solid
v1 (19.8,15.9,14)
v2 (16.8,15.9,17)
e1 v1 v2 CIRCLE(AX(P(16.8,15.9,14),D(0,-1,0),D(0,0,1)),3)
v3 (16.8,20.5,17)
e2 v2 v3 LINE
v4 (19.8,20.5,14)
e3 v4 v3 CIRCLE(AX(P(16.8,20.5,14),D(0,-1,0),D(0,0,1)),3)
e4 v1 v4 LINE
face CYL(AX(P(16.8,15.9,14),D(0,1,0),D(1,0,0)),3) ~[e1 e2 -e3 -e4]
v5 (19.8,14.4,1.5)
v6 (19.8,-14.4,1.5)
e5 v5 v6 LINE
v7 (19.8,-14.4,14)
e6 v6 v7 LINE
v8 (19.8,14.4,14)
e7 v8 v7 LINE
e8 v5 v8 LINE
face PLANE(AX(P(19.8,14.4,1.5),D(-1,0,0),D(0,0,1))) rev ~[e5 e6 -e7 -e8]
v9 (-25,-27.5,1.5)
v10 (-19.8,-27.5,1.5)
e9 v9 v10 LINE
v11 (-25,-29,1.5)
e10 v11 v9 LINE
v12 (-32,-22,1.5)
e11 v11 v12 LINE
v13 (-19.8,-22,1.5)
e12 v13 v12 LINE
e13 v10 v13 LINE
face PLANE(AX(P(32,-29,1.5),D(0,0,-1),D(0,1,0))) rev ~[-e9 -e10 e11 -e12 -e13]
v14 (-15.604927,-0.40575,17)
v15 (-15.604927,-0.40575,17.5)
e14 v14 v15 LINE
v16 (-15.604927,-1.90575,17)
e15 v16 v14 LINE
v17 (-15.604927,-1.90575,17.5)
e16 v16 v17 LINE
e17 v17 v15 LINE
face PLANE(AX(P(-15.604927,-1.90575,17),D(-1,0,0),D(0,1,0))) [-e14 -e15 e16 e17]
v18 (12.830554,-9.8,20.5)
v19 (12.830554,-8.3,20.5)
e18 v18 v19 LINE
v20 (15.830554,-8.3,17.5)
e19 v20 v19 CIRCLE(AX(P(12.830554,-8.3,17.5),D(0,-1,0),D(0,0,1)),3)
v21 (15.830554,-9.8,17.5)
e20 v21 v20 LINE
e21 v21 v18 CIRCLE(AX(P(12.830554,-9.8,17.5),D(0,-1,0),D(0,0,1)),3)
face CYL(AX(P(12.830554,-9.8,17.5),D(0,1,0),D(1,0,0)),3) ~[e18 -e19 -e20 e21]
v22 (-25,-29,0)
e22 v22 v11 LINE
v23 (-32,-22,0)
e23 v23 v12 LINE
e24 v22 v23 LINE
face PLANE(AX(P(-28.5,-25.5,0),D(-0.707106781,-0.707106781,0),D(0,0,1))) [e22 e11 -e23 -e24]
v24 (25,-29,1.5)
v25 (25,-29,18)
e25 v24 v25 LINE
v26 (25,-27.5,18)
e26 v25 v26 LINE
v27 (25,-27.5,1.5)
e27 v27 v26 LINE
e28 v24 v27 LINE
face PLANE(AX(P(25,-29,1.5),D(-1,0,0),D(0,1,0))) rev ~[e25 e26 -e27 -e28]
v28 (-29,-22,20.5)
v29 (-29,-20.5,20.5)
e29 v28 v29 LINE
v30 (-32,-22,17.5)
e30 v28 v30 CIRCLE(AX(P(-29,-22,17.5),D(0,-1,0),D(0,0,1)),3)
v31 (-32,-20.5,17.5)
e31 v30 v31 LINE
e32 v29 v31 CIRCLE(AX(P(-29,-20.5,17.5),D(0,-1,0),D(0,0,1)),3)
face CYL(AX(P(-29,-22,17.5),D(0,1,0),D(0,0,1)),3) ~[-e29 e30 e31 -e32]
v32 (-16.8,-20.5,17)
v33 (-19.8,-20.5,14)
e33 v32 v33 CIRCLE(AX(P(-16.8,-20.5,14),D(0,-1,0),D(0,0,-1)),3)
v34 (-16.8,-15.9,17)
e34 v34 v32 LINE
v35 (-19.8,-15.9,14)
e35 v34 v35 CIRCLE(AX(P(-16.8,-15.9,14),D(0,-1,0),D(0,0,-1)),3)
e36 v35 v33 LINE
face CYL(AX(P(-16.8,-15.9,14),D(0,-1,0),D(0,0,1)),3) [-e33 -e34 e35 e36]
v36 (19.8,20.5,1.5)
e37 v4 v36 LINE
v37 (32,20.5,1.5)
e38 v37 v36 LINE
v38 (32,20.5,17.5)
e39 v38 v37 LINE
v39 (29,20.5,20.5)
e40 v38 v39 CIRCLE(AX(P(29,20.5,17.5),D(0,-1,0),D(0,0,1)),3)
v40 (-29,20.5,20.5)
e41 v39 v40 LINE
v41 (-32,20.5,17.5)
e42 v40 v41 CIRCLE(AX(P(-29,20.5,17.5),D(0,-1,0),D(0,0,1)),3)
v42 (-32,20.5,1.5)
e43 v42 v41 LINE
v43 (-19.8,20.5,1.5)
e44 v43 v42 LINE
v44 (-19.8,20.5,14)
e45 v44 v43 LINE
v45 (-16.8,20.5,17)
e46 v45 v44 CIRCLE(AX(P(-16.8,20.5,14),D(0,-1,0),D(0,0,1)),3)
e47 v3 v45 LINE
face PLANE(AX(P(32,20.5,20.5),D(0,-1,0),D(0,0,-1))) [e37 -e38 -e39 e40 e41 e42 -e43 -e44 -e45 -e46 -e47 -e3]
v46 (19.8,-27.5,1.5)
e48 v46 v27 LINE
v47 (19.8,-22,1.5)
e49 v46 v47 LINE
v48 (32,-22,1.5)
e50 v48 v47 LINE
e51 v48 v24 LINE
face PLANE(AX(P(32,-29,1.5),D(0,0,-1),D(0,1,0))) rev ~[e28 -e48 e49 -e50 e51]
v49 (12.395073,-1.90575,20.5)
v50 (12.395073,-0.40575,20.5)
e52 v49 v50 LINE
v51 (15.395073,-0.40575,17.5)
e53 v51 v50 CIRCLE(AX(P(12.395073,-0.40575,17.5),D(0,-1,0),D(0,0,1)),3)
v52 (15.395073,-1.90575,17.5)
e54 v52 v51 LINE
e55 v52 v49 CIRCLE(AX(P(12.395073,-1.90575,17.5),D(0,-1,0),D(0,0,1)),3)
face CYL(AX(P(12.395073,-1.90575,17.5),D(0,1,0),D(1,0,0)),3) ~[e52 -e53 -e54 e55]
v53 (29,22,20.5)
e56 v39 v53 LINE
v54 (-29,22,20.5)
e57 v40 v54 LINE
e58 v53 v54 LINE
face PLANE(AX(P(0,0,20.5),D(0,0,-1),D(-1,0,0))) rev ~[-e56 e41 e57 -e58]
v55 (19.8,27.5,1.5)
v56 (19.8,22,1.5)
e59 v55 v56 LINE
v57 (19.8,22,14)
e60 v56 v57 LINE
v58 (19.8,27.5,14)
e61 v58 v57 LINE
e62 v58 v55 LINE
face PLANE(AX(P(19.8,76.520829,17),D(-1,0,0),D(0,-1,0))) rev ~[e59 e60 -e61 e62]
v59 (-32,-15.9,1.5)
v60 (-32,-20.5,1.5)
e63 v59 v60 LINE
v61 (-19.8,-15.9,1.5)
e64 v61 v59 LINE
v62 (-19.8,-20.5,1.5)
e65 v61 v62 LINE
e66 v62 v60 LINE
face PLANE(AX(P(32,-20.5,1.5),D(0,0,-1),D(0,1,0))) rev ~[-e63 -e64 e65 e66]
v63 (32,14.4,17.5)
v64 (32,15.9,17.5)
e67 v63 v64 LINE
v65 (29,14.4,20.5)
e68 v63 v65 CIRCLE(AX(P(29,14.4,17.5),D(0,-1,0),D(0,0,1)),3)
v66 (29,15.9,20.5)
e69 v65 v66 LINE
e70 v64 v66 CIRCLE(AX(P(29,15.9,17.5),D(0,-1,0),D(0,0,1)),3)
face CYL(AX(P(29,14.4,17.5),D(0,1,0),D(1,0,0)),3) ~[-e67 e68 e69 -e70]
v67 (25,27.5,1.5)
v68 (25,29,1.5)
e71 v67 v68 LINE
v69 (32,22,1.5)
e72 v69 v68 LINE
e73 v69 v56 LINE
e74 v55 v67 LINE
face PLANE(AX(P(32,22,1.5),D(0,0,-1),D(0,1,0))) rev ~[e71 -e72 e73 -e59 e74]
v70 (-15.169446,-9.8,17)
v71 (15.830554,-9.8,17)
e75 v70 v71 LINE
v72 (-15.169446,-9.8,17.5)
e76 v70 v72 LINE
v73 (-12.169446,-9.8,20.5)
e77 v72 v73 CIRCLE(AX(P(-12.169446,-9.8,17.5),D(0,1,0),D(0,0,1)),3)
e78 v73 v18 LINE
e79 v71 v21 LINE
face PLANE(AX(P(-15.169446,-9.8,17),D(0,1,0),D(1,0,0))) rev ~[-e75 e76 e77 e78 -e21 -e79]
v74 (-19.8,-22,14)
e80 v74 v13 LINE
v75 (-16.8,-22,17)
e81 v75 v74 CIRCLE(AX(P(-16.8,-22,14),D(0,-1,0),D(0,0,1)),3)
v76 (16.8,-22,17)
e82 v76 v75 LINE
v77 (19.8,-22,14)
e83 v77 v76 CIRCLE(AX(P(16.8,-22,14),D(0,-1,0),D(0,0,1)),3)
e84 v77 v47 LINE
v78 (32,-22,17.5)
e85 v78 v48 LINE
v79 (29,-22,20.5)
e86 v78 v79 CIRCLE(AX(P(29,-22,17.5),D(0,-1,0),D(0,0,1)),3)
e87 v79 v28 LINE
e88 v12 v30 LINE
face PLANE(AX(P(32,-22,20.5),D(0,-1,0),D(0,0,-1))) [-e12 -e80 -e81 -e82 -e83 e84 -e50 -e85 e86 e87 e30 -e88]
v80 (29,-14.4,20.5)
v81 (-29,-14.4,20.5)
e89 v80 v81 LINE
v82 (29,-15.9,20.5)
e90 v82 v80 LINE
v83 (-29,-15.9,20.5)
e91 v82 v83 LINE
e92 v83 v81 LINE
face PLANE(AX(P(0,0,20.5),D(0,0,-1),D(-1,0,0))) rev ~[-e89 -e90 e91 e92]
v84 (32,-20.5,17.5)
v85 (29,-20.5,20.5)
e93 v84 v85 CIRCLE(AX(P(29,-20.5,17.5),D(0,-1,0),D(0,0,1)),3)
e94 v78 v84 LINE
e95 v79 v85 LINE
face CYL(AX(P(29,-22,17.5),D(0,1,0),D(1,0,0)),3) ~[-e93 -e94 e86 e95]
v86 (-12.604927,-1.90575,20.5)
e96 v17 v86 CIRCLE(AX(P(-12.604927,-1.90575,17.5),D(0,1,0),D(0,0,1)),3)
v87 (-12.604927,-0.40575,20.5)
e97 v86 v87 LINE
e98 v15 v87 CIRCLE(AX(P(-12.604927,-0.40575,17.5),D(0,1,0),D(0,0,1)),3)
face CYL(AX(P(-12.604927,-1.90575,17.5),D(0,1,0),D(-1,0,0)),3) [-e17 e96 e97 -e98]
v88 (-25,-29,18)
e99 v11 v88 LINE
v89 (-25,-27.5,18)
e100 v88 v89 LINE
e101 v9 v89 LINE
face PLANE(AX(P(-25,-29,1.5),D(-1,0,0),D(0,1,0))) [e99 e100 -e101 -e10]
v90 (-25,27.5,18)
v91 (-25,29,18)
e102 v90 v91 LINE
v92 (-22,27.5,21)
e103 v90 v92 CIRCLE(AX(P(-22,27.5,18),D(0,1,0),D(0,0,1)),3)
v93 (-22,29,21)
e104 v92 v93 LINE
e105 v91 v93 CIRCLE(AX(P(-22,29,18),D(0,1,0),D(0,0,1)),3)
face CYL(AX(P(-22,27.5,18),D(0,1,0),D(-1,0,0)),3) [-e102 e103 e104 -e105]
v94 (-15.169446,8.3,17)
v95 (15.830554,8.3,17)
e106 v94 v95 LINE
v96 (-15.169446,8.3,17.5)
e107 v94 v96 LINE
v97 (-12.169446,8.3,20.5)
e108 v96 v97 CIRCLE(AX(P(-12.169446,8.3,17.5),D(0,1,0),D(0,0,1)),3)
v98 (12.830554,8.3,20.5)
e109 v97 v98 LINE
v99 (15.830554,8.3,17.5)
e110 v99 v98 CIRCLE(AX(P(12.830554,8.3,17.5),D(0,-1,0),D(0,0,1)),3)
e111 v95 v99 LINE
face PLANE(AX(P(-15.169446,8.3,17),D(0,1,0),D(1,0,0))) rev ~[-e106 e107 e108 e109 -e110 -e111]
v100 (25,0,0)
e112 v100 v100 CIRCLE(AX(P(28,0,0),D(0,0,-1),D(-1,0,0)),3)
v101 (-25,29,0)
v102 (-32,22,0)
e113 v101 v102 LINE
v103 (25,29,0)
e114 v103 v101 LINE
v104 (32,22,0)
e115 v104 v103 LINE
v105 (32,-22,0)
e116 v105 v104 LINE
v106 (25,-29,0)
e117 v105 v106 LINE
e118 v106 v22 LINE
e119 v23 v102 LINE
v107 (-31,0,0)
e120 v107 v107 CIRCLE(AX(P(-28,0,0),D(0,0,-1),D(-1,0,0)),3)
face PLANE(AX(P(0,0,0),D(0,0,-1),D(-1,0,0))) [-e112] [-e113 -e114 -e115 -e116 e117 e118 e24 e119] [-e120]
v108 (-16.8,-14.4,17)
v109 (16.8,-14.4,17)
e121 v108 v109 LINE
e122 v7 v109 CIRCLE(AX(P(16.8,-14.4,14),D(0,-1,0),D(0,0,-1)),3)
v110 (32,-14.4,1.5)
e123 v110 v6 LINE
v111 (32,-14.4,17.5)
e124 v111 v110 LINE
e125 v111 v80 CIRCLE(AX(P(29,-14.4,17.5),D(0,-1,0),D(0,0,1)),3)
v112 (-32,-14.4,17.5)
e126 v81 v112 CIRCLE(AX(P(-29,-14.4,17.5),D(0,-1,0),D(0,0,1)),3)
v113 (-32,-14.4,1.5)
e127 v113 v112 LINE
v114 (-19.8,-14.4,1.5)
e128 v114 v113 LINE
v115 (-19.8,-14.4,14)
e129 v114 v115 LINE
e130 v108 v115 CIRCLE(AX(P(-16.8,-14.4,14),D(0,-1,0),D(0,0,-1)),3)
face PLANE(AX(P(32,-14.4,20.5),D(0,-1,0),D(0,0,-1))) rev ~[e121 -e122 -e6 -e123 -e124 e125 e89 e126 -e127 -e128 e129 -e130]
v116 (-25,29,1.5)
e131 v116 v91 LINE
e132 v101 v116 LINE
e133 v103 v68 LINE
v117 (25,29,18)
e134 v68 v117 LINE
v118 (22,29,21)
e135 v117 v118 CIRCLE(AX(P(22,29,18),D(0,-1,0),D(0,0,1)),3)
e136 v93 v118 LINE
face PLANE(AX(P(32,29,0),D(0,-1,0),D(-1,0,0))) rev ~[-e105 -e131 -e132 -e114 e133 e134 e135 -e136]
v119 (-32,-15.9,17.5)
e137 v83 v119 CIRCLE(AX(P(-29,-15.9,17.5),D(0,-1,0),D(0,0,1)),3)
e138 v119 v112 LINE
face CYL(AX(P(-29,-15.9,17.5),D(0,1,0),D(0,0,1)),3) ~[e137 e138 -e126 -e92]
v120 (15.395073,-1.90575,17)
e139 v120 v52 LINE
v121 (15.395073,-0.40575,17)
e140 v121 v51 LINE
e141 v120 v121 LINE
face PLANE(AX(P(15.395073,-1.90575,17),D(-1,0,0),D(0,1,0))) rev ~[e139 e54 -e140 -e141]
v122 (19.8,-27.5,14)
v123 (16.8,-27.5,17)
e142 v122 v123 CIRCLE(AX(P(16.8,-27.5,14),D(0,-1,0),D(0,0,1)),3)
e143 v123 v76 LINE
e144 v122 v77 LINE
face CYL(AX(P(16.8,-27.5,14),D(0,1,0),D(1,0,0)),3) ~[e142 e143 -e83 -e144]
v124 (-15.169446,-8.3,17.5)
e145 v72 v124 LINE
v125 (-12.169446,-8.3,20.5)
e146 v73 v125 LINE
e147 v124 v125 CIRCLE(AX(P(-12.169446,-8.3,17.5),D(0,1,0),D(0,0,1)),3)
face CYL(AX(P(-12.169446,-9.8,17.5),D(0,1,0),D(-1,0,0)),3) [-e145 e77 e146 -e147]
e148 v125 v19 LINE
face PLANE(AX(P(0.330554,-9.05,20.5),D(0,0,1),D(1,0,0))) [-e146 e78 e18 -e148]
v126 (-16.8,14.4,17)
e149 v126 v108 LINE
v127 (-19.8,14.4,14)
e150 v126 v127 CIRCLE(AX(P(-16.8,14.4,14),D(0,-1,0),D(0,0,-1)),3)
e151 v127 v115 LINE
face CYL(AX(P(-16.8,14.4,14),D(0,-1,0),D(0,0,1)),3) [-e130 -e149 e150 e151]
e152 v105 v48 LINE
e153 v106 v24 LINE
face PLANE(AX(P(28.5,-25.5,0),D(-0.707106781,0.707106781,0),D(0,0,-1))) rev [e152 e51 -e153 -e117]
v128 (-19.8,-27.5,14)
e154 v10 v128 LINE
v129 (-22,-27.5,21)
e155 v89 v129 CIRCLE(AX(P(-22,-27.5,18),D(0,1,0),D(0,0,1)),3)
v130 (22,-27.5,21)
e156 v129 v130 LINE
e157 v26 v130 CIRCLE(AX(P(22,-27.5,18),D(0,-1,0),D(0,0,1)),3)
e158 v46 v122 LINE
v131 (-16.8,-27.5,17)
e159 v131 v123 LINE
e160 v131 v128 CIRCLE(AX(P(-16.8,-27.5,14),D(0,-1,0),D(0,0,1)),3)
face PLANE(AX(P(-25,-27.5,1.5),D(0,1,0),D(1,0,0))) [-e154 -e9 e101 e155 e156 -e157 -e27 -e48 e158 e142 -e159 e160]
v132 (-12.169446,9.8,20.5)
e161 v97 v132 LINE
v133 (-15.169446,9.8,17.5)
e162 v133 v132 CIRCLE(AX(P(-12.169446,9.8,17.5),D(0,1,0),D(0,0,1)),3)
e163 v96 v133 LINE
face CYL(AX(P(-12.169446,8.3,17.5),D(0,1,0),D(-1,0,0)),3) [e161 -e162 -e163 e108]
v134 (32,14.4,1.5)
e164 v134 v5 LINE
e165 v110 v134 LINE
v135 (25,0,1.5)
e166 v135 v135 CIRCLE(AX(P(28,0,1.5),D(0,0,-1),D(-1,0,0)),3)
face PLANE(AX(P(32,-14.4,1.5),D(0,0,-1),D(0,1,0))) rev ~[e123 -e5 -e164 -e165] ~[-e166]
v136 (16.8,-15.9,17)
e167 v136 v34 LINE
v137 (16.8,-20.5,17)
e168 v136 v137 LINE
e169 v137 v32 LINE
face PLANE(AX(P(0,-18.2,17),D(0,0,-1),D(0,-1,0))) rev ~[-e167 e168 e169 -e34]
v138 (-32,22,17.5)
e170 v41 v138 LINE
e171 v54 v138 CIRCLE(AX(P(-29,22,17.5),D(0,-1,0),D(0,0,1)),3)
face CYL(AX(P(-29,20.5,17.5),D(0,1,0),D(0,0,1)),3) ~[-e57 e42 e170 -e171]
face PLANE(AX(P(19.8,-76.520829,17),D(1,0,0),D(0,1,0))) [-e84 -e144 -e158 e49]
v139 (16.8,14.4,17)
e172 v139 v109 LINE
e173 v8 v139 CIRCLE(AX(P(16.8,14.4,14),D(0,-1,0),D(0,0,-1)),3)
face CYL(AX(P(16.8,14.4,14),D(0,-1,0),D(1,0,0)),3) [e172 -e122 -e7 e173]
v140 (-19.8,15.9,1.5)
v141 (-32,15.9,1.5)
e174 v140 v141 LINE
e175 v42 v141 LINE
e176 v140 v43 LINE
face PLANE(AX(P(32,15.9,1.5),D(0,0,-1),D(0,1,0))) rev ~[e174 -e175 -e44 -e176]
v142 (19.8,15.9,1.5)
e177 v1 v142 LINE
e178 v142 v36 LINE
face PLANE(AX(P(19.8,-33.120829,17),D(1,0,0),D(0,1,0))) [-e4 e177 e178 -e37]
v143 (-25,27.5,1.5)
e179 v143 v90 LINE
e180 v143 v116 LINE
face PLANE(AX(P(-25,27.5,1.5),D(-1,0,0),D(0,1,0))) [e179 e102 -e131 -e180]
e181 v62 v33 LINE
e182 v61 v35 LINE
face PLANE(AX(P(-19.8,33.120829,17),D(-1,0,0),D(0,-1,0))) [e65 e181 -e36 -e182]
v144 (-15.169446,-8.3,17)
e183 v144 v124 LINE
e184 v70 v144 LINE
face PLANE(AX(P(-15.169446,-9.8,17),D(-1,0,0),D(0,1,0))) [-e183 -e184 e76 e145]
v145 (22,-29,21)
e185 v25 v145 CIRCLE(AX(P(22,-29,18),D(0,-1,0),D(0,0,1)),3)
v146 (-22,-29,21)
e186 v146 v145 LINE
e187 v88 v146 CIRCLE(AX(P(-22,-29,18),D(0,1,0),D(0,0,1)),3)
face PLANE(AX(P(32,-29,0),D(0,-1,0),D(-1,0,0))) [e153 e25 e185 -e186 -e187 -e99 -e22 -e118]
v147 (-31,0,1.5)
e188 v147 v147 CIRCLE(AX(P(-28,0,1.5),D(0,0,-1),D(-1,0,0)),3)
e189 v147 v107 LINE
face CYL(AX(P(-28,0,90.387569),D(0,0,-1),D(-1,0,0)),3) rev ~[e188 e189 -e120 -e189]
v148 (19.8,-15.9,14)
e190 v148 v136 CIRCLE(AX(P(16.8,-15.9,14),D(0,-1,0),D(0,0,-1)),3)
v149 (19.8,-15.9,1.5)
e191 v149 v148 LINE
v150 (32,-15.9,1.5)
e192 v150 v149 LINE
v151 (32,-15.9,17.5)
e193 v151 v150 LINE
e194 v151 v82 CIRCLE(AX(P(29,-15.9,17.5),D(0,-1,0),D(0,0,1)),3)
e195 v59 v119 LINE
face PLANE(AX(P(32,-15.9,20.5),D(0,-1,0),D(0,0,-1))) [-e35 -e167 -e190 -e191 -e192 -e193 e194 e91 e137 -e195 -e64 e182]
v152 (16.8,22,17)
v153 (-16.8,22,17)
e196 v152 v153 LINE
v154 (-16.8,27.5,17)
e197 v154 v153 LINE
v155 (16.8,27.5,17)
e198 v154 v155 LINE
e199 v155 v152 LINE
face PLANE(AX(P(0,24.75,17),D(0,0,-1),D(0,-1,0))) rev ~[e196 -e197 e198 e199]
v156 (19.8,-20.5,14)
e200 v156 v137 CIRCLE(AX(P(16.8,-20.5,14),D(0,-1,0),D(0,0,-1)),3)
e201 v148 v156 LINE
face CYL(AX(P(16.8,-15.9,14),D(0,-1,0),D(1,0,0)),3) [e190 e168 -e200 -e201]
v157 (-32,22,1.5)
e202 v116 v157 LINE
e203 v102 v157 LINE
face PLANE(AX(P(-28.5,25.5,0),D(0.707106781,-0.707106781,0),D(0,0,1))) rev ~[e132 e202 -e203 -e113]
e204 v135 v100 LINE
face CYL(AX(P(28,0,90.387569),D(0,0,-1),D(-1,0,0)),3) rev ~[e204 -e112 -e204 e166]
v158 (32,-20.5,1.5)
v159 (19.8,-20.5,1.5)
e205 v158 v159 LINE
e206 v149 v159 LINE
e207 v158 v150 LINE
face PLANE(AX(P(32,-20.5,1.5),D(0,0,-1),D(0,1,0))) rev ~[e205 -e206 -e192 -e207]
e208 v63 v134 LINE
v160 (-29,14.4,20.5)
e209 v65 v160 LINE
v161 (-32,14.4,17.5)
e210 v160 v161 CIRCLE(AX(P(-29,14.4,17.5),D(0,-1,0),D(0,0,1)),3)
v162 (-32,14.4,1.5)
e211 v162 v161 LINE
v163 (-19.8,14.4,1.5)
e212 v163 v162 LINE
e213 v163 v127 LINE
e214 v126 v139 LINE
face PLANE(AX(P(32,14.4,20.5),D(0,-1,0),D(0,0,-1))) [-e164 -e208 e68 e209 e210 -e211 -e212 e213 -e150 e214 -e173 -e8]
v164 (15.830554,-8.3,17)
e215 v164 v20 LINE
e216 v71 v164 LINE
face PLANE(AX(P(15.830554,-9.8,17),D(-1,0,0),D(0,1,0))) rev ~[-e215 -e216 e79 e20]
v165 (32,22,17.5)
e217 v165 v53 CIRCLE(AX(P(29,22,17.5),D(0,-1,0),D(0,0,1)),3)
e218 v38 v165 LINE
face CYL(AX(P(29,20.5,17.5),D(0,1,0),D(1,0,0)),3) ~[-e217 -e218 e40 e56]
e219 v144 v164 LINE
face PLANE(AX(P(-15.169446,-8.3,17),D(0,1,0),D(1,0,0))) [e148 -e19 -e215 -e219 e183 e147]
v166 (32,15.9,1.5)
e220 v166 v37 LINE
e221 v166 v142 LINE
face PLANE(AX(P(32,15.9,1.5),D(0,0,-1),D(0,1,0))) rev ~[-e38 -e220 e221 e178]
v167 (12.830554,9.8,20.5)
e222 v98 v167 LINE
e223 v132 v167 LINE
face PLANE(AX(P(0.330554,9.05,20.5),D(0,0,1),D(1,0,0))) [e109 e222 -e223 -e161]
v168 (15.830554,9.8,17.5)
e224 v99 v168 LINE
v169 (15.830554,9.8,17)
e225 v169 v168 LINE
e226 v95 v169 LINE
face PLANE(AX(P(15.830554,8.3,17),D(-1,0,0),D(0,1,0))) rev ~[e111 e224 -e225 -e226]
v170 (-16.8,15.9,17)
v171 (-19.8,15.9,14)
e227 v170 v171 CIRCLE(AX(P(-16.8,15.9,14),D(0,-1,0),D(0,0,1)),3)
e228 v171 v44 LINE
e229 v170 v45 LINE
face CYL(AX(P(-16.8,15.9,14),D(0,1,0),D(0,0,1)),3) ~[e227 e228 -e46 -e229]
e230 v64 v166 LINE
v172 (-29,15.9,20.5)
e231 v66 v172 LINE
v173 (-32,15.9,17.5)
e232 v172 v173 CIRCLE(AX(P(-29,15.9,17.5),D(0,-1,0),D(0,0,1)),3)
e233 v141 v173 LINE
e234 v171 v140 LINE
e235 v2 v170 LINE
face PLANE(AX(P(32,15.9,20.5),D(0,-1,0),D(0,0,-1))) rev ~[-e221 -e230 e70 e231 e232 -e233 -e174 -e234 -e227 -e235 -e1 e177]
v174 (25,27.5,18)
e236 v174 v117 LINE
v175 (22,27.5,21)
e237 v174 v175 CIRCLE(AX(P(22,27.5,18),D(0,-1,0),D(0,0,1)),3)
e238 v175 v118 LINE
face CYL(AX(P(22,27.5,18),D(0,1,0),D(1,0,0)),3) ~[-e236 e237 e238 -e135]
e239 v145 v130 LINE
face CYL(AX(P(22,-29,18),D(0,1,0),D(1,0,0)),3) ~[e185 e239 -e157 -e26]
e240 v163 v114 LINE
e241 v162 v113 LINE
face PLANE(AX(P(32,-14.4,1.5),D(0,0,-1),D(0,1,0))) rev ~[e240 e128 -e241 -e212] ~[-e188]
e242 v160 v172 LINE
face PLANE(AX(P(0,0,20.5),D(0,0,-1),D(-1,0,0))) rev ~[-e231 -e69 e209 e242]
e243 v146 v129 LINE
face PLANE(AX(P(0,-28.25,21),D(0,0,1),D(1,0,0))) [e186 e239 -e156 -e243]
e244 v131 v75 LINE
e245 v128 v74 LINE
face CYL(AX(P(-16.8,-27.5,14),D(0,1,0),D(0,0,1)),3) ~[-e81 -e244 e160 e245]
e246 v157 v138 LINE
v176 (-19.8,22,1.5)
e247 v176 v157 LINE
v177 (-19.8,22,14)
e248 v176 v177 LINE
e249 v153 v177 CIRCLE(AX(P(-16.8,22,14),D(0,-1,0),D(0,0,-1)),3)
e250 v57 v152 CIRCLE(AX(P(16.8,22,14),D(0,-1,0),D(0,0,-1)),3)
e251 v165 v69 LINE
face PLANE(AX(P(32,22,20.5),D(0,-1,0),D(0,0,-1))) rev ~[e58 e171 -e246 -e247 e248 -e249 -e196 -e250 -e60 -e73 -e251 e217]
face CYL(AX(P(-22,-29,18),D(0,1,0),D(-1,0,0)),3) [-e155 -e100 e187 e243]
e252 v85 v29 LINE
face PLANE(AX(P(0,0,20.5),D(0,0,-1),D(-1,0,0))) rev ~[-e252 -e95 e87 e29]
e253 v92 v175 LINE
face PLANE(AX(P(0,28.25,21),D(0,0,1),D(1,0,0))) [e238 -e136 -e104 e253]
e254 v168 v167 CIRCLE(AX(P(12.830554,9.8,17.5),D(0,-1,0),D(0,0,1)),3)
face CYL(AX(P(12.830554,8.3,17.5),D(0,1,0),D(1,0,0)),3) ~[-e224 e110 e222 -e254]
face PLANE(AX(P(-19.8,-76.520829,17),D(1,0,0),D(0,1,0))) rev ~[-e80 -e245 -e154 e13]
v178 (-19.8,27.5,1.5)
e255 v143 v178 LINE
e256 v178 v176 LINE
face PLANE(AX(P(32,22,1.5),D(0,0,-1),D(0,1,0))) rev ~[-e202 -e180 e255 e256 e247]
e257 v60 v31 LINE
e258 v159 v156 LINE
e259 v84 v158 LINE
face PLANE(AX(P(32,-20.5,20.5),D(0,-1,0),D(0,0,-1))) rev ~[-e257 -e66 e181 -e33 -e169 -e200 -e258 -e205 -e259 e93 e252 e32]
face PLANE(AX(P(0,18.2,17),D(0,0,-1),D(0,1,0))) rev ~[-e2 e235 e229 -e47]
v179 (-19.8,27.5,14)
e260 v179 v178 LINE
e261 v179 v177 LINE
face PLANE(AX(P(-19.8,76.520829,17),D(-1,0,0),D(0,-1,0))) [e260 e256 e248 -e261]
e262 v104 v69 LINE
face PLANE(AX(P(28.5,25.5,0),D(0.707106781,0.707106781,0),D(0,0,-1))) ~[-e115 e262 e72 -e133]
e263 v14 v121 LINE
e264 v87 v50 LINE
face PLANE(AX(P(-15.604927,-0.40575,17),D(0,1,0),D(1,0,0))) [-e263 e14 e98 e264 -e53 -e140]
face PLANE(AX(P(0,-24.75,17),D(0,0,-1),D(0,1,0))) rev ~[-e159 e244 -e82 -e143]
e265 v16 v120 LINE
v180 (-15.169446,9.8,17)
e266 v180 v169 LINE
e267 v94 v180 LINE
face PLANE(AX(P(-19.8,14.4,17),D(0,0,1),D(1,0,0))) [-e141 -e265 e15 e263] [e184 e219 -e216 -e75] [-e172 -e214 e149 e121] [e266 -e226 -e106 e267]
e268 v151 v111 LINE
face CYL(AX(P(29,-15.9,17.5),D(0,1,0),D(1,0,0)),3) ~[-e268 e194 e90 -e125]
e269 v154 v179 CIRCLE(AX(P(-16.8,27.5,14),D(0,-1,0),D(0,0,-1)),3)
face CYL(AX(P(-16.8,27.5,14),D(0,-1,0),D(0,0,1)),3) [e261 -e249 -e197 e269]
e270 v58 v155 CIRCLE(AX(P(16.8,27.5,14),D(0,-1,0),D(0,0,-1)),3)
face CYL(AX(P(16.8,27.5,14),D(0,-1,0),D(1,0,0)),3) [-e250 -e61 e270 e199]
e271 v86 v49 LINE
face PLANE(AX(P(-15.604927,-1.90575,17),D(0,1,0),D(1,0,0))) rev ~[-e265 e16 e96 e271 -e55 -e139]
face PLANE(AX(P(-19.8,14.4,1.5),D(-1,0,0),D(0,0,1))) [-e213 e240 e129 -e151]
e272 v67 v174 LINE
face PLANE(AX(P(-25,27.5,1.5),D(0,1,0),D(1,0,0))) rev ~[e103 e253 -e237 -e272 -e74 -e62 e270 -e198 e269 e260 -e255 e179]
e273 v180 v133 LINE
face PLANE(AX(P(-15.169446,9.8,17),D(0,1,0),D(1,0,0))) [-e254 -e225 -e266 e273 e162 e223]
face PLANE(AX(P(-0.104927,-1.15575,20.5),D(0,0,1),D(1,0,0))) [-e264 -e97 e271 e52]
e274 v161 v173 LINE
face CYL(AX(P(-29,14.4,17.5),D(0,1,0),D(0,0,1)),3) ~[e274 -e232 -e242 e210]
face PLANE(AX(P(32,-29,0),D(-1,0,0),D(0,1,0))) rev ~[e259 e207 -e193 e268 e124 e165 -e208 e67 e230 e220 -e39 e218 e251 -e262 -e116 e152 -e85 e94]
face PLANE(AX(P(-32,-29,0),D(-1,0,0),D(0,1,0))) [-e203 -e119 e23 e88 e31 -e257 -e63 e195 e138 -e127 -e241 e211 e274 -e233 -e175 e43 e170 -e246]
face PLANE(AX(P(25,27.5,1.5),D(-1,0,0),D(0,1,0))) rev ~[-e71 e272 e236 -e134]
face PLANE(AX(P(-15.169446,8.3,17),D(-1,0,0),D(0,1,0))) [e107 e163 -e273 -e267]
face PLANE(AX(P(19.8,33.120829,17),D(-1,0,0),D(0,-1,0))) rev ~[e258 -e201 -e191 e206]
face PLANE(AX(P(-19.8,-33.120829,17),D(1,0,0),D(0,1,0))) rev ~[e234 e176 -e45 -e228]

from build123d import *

# Parameters (mm, degrees)
SKETCH_1_W            = 64
SKETCH_1_H            = 58
EXTRUDE_1_DEPTH       = 20.5
SKETCH_2_W            = 19
SKETCH_2_H            = 4.6
CUT_EXTRUDE_1_DEPTH   = 74.193237393
SKETCH_3_W            = 19
SKETCH_3_H            = 28.8
CUT_EXTRUDE_2_DEPTH   = 74.193237393
SKETCH_4_W            = 19
SKETCH_4_H            = 4.6
CUT_EXTRUDE_3_DEPTH   = 74.193237393
SKETCH_5_W            = 19
SKETCH_5_H            = 7
CUT_EXTRUDE_4_DEPTH   = 74.193237393
SKETCH_6_W            = 19
SKETCH_6_H            = 7
CUT_EXTRUDE_5_DEPTH   = 74.193237393
SKETCH_7_W            = 39.6
SKETCH_7_H            = 15.5
EXTRUDE_2_DEPTH       = 28.8
SKETCH_8_W            = 50
SKETCH_8_H            = 1.5
EXTRUDE_3_DEPTH       = 19.5
SKETCH_9_W            = 50
SKETCH_9_H            = 1.5
EXTRUDE_4_DEPTH       = 19.5
SKETCH_10_W           = 31
SKETCH_10_H           = 1.5
EXTRUDE_5_DEPTH       = 3.5
SKETCH_11_W           = 31
SKETCH_11_H           = 1.5
EXTRUDE_6_DEPTH       = 3.5
SKETCH_12_W           = 31
SKETCH_12_H           = 1.5
EXTRUDE_7_DEPTH       = 3.5
HOLE_WIZARD_6_0_6_1_D = 6
RIB_1_REACH           = 50.021
SKETCH_15_WALL_W      = 103.541657628
SKETCH_15_WALL_H      = 39.6
RIB_2_REACH           = 50.021
SKETCH_16_WALL_W      = 103.541657628
SKETCH_16_WALL_H      = 39.6
RIB_3_REACH           = 50.021
SKETCH_17_WALL_W      = 102.641657628
SKETCH_17_WALL_H      = 39.6
RIB_4_REACH           = 50.021
SKETCH_18_WALL_W      = 102.641657628
SKETCH_18_WALL_H      = 39.6
CHAMFER_1_SIZE        = 7
FILLET_1_R            = 3


with BuildPart() as part:
    # 草图1 → 凸台-拉伸1 (new body)
    with BuildSketch(Plane(origin=(0, 0, 0), x_dir=(-1, 0, 0), z_dir=(0, 0, -1))):
        Rectangle(SKETCH_1_W, SKETCH_1_H)
    extrude(amount=-EXTRUDE_1_DEPTH)

    # 草图2 → 切除-拉伸1 (cut, through all)
    with BuildSketch(Plane(origin=(32, 0, 0), x_dir=(0, 0, -1), z_dir=(1, 0, 0))):
        with Locations((-11, -18.2)):
            Rectangle(SKETCH_2_W, SKETCH_2_H)
    extrude(amount=-CUT_EXTRUDE_1_DEPTH, mode=Mode.SUBTRACT)

    # 草图3 → 切除-拉伸2 (cut, through all)
    with BuildSketch(Plane(origin=(32, 0, 0), x_dir=(0, 0, -1), z_dir=(1, 0, 0))):
        with Locations((-11, 0)):
            Rectangle(SKETCH_3_W, SKETCH_3_H)
    extrude(amount=-CUT_EXTRUDE_2_DEPTH, mode=Mode.SUBTRACT)

    # 草图4 → 切除-拉伸3 (cut, through all)
    with BuildSketch(Plane(origin=(32, 0, 0), x_dir=(0, 0, -1), z_dir=(1, 0, 0))):
        with Locations((-11, 18.2)):
            Rectangle(SKETCH_4_W, SKETCH_4_H)
    extrude(amount=-CUT_EXTRUDE_3_DEPTH, mode=Mode.SUBTRACT)

    # 草图5 → 切除-拉伸4 (cut, through all)
    with BuildSketch(Plane(origin=(32, 0, 0), x_dir=(0, 0, -1), z_dir=(1, 0, 0))):
        with Locations((-11, 25.5)):
            Rectangle(SKETCH_5_W, SKETCH_5_H)
    extrude(amount=-CUT_EXTRUDE_4_DEPTH, mode=Mode.SUBTRACT)

    # 草图6 → 切除-拉伸5 (cut, through all)
    with BuildSketch(Plane(origin=(32, 0, 0), x_dir=(0, 0, -1), z_dir=(1, 0, 0))):
        with Locations((-11, -25.5)):
            Rectangle(SKETCH_6_W, SKETCH_6_H)
    extrude(amount=-CUT_EXTRUDE_5_DEPTH, mode=Mode.SUBTRACT)

    # 草图7 → 凸台-拉伸2 (add)
    with BuildSketch(Plane.XZ.offset(-14.4)):
        with Locations((0, 9.25)):
            Rectangle(SKETCH_7_W, SKETCH_7_H)
    extrude(amount=EXTRUDE_2_DEPTH)

    # 草图8 → 凸台-拉伸3 (add)
    with BuildSketch(Plane.XY.offset(1.5)):
        with Locations((0, -28.25)):
            Rectangle(SKETCH_8_W, SKETCH_8_H)
    extrude(amount=EXTRUDE_3_DEPTH)

    # 草图9 → 凸台-拉伸4 (add)
    with BuildSketch(Plane.XY.offset(1.5)):
        with Locations((0, 28.25)):
            Rectangle(SKETCH_9_W, SKETCH_9_H)
    extrude(amount=EXTRUDE_4_DEPTH)

    # 草图10 → 凸台-拉伸5 (add)
    with BuildSketch(Plane.XY.offset(17)):
        with Locations((0.330554393, 9.05)):
            Rectangle(SKETCH_10_W, SKETCH_10_H)
    extrude(amount=EXTRUDE_5_DEPTH)

    # 草图11 → 凸台-拉伸6 (add)
    with BuildSketch(Plane.XY.offset(17)):
        with Locations((-0.104926517, -1.15574974)):
            Rectangle(SKETCH_11_W, SKETCH_11_H)
    extrude(amount=EXTRUDE_6_DEPTH)

    # 草图12 → 凸台-拉伸7 (add)
    with BuildSketch(Plane.XY.offset(17)):
        with Locations((0.330554393, -9.05)):
            Rectangle(SKETCH_12_W, SKETCH_12_H)
    extrude(amount=EXTRUDE_7_DEPTH)

    # Ø6.0 (6) 直径孔1 (through all)
    with Locations(Plane.XY.offset(1.5)):
        with Locations((28, 0), (-28, 0)):
            Hole(HOLE_WIZARD_6_0_6_1_D / 2)

    # 草图15 wall → 筋1 (add, up to next)
    with BuildSketch(Plane(origin=(0, 24.75, 17), x_dir=(0, -1, 0), z_dir=(0, 0, -1)), mode=Mode.PRIVATE) as rib_1_sk1:
        Rectangle(SKETCH_15_WALL_W, SKETCH_15_WALL_H)
    rib_1_tool1 = extrude(rib_1_sk1.sketch, amount=RIB_1_REACH, mode=Mode.PRIVATE) - part.part
    add(rib_1_tool1.solids().sort_by_distance((0, 24.75, 17))[0])

    # 草图16 wall → 筋2 (add, up to next)
    with BuildSketch(Plane(origin=(0, -24.75, 17), x_dir=(0, 1, 0), z_dir=(0, 0, -1)), mode=Mode.PRIVATE) as rib_2_sk1:
        Rectangle(SKETCH_16_WALL_W, SKETCH_16_WALL_H)
    rib_2_tool1 = extrude(rib_2_sk1.sketch, amount=RIB_2_REACH, mode=Mode.PRIVATE) - part.part
    add(rib_2_tool1.solids().sort_by_distance((0, -24.75, 17))[0])

    # 草图17 wall → 筋3 (add, up to next)
    with BuildSketch(Plane(origin=(0, 18.2, 17), x_dir=(0, 1, 0), z_dir=(0, 0, -1)), mode=Mode.PRIVATE) as rib_3_sk1:
        Rectangle(SKETCH_17_WALL_W, SKETCH_17_WALL_H)
    rib_3_tool1 = extrude(rib_3_sk1.sketch, amount=RIB_3_REACH, mode=Mode.PRIVATE) - part.part
    add(rib_3_tool1.solids().sort_by_distance((0, 18.2, 17))[0])

    # 草图18 wall → 筋4 (add, up to next)
    with BuildSketch(Plane(origin=(0, -18.2, 17), x_dir=(0, -1, 0), z_dir=(0, 0, -1)), mode=Mode.PRIVATE) as rib_4_sk1:
        Rectangle(SKETCH_18_WALL_W, SKETCH_18_WALL_H)
    rib_4_tool1 = extrude(rib_4_sk1.sketch, amount=RIB_4_REACH, mode=Mode.PRIVATE) - part.part
    add(rib_4_tool1.solids().sort_by_distance((0, -18.2, 17))[0])

    # 倒角1
    chamfer_1_edges = [part.edges().sort_by_distance(p)[0] for p in [
        (-32, 29, 0.75),
        (-32, -29, 0.75),
        (32, 29, 0.75),
        (32, -29, 0.75),
    ]]
    chamfer(chamfer_1_edges, length=CHAMFER_1_SIZE)

    # 圆角1
    fillet_1_edges = [part.edges().sort_by_distance(p)[0] for p in [
        (19.8, 0, 17),
        (-19.8, 0, 17),
        (-25, -28.25, 21),
        (25, -28.25, 21),
        (-25, 28.25, 21),
        (25, 28.25, 21),
        (-15.169445607, 9.05, 20.5),
        (15.830554393, 9.05, 20.5),
        (-32, -15.15, 20.5),
        (32, -21.25, 20.5),
        (-15.604926517, -1.15574974, 20.5),
        (15.395073483, -1.15574974, 20.5),
        (-15.169445607, -9.05, 20.5),
        (15.830554393, -9.05, 20.5),
        (19.8, 24.75, 17),
        (-19.8, 24.75, 17),
        (19.8, -24.75, 17),
        (-19.8, -24.75, 17),
        (32, -15.15, 20.5),
        (-32, 15.15, 20.5),
        (-19.8, 18.2, 17),
        (19.8, 18.2, 17),
        (-19.8, -18.2, 17),
        (19.8, -18.2, 17),
        (32, 15.15, 20.5),
        (-32, 21.25, 20.5),
        (32, 21.25, 20.5),
        (-32, -21.25, 20.5),
    ]]
    fillet(fillet_1_edges, radius=FILLET_1_R)


solid = part.part
